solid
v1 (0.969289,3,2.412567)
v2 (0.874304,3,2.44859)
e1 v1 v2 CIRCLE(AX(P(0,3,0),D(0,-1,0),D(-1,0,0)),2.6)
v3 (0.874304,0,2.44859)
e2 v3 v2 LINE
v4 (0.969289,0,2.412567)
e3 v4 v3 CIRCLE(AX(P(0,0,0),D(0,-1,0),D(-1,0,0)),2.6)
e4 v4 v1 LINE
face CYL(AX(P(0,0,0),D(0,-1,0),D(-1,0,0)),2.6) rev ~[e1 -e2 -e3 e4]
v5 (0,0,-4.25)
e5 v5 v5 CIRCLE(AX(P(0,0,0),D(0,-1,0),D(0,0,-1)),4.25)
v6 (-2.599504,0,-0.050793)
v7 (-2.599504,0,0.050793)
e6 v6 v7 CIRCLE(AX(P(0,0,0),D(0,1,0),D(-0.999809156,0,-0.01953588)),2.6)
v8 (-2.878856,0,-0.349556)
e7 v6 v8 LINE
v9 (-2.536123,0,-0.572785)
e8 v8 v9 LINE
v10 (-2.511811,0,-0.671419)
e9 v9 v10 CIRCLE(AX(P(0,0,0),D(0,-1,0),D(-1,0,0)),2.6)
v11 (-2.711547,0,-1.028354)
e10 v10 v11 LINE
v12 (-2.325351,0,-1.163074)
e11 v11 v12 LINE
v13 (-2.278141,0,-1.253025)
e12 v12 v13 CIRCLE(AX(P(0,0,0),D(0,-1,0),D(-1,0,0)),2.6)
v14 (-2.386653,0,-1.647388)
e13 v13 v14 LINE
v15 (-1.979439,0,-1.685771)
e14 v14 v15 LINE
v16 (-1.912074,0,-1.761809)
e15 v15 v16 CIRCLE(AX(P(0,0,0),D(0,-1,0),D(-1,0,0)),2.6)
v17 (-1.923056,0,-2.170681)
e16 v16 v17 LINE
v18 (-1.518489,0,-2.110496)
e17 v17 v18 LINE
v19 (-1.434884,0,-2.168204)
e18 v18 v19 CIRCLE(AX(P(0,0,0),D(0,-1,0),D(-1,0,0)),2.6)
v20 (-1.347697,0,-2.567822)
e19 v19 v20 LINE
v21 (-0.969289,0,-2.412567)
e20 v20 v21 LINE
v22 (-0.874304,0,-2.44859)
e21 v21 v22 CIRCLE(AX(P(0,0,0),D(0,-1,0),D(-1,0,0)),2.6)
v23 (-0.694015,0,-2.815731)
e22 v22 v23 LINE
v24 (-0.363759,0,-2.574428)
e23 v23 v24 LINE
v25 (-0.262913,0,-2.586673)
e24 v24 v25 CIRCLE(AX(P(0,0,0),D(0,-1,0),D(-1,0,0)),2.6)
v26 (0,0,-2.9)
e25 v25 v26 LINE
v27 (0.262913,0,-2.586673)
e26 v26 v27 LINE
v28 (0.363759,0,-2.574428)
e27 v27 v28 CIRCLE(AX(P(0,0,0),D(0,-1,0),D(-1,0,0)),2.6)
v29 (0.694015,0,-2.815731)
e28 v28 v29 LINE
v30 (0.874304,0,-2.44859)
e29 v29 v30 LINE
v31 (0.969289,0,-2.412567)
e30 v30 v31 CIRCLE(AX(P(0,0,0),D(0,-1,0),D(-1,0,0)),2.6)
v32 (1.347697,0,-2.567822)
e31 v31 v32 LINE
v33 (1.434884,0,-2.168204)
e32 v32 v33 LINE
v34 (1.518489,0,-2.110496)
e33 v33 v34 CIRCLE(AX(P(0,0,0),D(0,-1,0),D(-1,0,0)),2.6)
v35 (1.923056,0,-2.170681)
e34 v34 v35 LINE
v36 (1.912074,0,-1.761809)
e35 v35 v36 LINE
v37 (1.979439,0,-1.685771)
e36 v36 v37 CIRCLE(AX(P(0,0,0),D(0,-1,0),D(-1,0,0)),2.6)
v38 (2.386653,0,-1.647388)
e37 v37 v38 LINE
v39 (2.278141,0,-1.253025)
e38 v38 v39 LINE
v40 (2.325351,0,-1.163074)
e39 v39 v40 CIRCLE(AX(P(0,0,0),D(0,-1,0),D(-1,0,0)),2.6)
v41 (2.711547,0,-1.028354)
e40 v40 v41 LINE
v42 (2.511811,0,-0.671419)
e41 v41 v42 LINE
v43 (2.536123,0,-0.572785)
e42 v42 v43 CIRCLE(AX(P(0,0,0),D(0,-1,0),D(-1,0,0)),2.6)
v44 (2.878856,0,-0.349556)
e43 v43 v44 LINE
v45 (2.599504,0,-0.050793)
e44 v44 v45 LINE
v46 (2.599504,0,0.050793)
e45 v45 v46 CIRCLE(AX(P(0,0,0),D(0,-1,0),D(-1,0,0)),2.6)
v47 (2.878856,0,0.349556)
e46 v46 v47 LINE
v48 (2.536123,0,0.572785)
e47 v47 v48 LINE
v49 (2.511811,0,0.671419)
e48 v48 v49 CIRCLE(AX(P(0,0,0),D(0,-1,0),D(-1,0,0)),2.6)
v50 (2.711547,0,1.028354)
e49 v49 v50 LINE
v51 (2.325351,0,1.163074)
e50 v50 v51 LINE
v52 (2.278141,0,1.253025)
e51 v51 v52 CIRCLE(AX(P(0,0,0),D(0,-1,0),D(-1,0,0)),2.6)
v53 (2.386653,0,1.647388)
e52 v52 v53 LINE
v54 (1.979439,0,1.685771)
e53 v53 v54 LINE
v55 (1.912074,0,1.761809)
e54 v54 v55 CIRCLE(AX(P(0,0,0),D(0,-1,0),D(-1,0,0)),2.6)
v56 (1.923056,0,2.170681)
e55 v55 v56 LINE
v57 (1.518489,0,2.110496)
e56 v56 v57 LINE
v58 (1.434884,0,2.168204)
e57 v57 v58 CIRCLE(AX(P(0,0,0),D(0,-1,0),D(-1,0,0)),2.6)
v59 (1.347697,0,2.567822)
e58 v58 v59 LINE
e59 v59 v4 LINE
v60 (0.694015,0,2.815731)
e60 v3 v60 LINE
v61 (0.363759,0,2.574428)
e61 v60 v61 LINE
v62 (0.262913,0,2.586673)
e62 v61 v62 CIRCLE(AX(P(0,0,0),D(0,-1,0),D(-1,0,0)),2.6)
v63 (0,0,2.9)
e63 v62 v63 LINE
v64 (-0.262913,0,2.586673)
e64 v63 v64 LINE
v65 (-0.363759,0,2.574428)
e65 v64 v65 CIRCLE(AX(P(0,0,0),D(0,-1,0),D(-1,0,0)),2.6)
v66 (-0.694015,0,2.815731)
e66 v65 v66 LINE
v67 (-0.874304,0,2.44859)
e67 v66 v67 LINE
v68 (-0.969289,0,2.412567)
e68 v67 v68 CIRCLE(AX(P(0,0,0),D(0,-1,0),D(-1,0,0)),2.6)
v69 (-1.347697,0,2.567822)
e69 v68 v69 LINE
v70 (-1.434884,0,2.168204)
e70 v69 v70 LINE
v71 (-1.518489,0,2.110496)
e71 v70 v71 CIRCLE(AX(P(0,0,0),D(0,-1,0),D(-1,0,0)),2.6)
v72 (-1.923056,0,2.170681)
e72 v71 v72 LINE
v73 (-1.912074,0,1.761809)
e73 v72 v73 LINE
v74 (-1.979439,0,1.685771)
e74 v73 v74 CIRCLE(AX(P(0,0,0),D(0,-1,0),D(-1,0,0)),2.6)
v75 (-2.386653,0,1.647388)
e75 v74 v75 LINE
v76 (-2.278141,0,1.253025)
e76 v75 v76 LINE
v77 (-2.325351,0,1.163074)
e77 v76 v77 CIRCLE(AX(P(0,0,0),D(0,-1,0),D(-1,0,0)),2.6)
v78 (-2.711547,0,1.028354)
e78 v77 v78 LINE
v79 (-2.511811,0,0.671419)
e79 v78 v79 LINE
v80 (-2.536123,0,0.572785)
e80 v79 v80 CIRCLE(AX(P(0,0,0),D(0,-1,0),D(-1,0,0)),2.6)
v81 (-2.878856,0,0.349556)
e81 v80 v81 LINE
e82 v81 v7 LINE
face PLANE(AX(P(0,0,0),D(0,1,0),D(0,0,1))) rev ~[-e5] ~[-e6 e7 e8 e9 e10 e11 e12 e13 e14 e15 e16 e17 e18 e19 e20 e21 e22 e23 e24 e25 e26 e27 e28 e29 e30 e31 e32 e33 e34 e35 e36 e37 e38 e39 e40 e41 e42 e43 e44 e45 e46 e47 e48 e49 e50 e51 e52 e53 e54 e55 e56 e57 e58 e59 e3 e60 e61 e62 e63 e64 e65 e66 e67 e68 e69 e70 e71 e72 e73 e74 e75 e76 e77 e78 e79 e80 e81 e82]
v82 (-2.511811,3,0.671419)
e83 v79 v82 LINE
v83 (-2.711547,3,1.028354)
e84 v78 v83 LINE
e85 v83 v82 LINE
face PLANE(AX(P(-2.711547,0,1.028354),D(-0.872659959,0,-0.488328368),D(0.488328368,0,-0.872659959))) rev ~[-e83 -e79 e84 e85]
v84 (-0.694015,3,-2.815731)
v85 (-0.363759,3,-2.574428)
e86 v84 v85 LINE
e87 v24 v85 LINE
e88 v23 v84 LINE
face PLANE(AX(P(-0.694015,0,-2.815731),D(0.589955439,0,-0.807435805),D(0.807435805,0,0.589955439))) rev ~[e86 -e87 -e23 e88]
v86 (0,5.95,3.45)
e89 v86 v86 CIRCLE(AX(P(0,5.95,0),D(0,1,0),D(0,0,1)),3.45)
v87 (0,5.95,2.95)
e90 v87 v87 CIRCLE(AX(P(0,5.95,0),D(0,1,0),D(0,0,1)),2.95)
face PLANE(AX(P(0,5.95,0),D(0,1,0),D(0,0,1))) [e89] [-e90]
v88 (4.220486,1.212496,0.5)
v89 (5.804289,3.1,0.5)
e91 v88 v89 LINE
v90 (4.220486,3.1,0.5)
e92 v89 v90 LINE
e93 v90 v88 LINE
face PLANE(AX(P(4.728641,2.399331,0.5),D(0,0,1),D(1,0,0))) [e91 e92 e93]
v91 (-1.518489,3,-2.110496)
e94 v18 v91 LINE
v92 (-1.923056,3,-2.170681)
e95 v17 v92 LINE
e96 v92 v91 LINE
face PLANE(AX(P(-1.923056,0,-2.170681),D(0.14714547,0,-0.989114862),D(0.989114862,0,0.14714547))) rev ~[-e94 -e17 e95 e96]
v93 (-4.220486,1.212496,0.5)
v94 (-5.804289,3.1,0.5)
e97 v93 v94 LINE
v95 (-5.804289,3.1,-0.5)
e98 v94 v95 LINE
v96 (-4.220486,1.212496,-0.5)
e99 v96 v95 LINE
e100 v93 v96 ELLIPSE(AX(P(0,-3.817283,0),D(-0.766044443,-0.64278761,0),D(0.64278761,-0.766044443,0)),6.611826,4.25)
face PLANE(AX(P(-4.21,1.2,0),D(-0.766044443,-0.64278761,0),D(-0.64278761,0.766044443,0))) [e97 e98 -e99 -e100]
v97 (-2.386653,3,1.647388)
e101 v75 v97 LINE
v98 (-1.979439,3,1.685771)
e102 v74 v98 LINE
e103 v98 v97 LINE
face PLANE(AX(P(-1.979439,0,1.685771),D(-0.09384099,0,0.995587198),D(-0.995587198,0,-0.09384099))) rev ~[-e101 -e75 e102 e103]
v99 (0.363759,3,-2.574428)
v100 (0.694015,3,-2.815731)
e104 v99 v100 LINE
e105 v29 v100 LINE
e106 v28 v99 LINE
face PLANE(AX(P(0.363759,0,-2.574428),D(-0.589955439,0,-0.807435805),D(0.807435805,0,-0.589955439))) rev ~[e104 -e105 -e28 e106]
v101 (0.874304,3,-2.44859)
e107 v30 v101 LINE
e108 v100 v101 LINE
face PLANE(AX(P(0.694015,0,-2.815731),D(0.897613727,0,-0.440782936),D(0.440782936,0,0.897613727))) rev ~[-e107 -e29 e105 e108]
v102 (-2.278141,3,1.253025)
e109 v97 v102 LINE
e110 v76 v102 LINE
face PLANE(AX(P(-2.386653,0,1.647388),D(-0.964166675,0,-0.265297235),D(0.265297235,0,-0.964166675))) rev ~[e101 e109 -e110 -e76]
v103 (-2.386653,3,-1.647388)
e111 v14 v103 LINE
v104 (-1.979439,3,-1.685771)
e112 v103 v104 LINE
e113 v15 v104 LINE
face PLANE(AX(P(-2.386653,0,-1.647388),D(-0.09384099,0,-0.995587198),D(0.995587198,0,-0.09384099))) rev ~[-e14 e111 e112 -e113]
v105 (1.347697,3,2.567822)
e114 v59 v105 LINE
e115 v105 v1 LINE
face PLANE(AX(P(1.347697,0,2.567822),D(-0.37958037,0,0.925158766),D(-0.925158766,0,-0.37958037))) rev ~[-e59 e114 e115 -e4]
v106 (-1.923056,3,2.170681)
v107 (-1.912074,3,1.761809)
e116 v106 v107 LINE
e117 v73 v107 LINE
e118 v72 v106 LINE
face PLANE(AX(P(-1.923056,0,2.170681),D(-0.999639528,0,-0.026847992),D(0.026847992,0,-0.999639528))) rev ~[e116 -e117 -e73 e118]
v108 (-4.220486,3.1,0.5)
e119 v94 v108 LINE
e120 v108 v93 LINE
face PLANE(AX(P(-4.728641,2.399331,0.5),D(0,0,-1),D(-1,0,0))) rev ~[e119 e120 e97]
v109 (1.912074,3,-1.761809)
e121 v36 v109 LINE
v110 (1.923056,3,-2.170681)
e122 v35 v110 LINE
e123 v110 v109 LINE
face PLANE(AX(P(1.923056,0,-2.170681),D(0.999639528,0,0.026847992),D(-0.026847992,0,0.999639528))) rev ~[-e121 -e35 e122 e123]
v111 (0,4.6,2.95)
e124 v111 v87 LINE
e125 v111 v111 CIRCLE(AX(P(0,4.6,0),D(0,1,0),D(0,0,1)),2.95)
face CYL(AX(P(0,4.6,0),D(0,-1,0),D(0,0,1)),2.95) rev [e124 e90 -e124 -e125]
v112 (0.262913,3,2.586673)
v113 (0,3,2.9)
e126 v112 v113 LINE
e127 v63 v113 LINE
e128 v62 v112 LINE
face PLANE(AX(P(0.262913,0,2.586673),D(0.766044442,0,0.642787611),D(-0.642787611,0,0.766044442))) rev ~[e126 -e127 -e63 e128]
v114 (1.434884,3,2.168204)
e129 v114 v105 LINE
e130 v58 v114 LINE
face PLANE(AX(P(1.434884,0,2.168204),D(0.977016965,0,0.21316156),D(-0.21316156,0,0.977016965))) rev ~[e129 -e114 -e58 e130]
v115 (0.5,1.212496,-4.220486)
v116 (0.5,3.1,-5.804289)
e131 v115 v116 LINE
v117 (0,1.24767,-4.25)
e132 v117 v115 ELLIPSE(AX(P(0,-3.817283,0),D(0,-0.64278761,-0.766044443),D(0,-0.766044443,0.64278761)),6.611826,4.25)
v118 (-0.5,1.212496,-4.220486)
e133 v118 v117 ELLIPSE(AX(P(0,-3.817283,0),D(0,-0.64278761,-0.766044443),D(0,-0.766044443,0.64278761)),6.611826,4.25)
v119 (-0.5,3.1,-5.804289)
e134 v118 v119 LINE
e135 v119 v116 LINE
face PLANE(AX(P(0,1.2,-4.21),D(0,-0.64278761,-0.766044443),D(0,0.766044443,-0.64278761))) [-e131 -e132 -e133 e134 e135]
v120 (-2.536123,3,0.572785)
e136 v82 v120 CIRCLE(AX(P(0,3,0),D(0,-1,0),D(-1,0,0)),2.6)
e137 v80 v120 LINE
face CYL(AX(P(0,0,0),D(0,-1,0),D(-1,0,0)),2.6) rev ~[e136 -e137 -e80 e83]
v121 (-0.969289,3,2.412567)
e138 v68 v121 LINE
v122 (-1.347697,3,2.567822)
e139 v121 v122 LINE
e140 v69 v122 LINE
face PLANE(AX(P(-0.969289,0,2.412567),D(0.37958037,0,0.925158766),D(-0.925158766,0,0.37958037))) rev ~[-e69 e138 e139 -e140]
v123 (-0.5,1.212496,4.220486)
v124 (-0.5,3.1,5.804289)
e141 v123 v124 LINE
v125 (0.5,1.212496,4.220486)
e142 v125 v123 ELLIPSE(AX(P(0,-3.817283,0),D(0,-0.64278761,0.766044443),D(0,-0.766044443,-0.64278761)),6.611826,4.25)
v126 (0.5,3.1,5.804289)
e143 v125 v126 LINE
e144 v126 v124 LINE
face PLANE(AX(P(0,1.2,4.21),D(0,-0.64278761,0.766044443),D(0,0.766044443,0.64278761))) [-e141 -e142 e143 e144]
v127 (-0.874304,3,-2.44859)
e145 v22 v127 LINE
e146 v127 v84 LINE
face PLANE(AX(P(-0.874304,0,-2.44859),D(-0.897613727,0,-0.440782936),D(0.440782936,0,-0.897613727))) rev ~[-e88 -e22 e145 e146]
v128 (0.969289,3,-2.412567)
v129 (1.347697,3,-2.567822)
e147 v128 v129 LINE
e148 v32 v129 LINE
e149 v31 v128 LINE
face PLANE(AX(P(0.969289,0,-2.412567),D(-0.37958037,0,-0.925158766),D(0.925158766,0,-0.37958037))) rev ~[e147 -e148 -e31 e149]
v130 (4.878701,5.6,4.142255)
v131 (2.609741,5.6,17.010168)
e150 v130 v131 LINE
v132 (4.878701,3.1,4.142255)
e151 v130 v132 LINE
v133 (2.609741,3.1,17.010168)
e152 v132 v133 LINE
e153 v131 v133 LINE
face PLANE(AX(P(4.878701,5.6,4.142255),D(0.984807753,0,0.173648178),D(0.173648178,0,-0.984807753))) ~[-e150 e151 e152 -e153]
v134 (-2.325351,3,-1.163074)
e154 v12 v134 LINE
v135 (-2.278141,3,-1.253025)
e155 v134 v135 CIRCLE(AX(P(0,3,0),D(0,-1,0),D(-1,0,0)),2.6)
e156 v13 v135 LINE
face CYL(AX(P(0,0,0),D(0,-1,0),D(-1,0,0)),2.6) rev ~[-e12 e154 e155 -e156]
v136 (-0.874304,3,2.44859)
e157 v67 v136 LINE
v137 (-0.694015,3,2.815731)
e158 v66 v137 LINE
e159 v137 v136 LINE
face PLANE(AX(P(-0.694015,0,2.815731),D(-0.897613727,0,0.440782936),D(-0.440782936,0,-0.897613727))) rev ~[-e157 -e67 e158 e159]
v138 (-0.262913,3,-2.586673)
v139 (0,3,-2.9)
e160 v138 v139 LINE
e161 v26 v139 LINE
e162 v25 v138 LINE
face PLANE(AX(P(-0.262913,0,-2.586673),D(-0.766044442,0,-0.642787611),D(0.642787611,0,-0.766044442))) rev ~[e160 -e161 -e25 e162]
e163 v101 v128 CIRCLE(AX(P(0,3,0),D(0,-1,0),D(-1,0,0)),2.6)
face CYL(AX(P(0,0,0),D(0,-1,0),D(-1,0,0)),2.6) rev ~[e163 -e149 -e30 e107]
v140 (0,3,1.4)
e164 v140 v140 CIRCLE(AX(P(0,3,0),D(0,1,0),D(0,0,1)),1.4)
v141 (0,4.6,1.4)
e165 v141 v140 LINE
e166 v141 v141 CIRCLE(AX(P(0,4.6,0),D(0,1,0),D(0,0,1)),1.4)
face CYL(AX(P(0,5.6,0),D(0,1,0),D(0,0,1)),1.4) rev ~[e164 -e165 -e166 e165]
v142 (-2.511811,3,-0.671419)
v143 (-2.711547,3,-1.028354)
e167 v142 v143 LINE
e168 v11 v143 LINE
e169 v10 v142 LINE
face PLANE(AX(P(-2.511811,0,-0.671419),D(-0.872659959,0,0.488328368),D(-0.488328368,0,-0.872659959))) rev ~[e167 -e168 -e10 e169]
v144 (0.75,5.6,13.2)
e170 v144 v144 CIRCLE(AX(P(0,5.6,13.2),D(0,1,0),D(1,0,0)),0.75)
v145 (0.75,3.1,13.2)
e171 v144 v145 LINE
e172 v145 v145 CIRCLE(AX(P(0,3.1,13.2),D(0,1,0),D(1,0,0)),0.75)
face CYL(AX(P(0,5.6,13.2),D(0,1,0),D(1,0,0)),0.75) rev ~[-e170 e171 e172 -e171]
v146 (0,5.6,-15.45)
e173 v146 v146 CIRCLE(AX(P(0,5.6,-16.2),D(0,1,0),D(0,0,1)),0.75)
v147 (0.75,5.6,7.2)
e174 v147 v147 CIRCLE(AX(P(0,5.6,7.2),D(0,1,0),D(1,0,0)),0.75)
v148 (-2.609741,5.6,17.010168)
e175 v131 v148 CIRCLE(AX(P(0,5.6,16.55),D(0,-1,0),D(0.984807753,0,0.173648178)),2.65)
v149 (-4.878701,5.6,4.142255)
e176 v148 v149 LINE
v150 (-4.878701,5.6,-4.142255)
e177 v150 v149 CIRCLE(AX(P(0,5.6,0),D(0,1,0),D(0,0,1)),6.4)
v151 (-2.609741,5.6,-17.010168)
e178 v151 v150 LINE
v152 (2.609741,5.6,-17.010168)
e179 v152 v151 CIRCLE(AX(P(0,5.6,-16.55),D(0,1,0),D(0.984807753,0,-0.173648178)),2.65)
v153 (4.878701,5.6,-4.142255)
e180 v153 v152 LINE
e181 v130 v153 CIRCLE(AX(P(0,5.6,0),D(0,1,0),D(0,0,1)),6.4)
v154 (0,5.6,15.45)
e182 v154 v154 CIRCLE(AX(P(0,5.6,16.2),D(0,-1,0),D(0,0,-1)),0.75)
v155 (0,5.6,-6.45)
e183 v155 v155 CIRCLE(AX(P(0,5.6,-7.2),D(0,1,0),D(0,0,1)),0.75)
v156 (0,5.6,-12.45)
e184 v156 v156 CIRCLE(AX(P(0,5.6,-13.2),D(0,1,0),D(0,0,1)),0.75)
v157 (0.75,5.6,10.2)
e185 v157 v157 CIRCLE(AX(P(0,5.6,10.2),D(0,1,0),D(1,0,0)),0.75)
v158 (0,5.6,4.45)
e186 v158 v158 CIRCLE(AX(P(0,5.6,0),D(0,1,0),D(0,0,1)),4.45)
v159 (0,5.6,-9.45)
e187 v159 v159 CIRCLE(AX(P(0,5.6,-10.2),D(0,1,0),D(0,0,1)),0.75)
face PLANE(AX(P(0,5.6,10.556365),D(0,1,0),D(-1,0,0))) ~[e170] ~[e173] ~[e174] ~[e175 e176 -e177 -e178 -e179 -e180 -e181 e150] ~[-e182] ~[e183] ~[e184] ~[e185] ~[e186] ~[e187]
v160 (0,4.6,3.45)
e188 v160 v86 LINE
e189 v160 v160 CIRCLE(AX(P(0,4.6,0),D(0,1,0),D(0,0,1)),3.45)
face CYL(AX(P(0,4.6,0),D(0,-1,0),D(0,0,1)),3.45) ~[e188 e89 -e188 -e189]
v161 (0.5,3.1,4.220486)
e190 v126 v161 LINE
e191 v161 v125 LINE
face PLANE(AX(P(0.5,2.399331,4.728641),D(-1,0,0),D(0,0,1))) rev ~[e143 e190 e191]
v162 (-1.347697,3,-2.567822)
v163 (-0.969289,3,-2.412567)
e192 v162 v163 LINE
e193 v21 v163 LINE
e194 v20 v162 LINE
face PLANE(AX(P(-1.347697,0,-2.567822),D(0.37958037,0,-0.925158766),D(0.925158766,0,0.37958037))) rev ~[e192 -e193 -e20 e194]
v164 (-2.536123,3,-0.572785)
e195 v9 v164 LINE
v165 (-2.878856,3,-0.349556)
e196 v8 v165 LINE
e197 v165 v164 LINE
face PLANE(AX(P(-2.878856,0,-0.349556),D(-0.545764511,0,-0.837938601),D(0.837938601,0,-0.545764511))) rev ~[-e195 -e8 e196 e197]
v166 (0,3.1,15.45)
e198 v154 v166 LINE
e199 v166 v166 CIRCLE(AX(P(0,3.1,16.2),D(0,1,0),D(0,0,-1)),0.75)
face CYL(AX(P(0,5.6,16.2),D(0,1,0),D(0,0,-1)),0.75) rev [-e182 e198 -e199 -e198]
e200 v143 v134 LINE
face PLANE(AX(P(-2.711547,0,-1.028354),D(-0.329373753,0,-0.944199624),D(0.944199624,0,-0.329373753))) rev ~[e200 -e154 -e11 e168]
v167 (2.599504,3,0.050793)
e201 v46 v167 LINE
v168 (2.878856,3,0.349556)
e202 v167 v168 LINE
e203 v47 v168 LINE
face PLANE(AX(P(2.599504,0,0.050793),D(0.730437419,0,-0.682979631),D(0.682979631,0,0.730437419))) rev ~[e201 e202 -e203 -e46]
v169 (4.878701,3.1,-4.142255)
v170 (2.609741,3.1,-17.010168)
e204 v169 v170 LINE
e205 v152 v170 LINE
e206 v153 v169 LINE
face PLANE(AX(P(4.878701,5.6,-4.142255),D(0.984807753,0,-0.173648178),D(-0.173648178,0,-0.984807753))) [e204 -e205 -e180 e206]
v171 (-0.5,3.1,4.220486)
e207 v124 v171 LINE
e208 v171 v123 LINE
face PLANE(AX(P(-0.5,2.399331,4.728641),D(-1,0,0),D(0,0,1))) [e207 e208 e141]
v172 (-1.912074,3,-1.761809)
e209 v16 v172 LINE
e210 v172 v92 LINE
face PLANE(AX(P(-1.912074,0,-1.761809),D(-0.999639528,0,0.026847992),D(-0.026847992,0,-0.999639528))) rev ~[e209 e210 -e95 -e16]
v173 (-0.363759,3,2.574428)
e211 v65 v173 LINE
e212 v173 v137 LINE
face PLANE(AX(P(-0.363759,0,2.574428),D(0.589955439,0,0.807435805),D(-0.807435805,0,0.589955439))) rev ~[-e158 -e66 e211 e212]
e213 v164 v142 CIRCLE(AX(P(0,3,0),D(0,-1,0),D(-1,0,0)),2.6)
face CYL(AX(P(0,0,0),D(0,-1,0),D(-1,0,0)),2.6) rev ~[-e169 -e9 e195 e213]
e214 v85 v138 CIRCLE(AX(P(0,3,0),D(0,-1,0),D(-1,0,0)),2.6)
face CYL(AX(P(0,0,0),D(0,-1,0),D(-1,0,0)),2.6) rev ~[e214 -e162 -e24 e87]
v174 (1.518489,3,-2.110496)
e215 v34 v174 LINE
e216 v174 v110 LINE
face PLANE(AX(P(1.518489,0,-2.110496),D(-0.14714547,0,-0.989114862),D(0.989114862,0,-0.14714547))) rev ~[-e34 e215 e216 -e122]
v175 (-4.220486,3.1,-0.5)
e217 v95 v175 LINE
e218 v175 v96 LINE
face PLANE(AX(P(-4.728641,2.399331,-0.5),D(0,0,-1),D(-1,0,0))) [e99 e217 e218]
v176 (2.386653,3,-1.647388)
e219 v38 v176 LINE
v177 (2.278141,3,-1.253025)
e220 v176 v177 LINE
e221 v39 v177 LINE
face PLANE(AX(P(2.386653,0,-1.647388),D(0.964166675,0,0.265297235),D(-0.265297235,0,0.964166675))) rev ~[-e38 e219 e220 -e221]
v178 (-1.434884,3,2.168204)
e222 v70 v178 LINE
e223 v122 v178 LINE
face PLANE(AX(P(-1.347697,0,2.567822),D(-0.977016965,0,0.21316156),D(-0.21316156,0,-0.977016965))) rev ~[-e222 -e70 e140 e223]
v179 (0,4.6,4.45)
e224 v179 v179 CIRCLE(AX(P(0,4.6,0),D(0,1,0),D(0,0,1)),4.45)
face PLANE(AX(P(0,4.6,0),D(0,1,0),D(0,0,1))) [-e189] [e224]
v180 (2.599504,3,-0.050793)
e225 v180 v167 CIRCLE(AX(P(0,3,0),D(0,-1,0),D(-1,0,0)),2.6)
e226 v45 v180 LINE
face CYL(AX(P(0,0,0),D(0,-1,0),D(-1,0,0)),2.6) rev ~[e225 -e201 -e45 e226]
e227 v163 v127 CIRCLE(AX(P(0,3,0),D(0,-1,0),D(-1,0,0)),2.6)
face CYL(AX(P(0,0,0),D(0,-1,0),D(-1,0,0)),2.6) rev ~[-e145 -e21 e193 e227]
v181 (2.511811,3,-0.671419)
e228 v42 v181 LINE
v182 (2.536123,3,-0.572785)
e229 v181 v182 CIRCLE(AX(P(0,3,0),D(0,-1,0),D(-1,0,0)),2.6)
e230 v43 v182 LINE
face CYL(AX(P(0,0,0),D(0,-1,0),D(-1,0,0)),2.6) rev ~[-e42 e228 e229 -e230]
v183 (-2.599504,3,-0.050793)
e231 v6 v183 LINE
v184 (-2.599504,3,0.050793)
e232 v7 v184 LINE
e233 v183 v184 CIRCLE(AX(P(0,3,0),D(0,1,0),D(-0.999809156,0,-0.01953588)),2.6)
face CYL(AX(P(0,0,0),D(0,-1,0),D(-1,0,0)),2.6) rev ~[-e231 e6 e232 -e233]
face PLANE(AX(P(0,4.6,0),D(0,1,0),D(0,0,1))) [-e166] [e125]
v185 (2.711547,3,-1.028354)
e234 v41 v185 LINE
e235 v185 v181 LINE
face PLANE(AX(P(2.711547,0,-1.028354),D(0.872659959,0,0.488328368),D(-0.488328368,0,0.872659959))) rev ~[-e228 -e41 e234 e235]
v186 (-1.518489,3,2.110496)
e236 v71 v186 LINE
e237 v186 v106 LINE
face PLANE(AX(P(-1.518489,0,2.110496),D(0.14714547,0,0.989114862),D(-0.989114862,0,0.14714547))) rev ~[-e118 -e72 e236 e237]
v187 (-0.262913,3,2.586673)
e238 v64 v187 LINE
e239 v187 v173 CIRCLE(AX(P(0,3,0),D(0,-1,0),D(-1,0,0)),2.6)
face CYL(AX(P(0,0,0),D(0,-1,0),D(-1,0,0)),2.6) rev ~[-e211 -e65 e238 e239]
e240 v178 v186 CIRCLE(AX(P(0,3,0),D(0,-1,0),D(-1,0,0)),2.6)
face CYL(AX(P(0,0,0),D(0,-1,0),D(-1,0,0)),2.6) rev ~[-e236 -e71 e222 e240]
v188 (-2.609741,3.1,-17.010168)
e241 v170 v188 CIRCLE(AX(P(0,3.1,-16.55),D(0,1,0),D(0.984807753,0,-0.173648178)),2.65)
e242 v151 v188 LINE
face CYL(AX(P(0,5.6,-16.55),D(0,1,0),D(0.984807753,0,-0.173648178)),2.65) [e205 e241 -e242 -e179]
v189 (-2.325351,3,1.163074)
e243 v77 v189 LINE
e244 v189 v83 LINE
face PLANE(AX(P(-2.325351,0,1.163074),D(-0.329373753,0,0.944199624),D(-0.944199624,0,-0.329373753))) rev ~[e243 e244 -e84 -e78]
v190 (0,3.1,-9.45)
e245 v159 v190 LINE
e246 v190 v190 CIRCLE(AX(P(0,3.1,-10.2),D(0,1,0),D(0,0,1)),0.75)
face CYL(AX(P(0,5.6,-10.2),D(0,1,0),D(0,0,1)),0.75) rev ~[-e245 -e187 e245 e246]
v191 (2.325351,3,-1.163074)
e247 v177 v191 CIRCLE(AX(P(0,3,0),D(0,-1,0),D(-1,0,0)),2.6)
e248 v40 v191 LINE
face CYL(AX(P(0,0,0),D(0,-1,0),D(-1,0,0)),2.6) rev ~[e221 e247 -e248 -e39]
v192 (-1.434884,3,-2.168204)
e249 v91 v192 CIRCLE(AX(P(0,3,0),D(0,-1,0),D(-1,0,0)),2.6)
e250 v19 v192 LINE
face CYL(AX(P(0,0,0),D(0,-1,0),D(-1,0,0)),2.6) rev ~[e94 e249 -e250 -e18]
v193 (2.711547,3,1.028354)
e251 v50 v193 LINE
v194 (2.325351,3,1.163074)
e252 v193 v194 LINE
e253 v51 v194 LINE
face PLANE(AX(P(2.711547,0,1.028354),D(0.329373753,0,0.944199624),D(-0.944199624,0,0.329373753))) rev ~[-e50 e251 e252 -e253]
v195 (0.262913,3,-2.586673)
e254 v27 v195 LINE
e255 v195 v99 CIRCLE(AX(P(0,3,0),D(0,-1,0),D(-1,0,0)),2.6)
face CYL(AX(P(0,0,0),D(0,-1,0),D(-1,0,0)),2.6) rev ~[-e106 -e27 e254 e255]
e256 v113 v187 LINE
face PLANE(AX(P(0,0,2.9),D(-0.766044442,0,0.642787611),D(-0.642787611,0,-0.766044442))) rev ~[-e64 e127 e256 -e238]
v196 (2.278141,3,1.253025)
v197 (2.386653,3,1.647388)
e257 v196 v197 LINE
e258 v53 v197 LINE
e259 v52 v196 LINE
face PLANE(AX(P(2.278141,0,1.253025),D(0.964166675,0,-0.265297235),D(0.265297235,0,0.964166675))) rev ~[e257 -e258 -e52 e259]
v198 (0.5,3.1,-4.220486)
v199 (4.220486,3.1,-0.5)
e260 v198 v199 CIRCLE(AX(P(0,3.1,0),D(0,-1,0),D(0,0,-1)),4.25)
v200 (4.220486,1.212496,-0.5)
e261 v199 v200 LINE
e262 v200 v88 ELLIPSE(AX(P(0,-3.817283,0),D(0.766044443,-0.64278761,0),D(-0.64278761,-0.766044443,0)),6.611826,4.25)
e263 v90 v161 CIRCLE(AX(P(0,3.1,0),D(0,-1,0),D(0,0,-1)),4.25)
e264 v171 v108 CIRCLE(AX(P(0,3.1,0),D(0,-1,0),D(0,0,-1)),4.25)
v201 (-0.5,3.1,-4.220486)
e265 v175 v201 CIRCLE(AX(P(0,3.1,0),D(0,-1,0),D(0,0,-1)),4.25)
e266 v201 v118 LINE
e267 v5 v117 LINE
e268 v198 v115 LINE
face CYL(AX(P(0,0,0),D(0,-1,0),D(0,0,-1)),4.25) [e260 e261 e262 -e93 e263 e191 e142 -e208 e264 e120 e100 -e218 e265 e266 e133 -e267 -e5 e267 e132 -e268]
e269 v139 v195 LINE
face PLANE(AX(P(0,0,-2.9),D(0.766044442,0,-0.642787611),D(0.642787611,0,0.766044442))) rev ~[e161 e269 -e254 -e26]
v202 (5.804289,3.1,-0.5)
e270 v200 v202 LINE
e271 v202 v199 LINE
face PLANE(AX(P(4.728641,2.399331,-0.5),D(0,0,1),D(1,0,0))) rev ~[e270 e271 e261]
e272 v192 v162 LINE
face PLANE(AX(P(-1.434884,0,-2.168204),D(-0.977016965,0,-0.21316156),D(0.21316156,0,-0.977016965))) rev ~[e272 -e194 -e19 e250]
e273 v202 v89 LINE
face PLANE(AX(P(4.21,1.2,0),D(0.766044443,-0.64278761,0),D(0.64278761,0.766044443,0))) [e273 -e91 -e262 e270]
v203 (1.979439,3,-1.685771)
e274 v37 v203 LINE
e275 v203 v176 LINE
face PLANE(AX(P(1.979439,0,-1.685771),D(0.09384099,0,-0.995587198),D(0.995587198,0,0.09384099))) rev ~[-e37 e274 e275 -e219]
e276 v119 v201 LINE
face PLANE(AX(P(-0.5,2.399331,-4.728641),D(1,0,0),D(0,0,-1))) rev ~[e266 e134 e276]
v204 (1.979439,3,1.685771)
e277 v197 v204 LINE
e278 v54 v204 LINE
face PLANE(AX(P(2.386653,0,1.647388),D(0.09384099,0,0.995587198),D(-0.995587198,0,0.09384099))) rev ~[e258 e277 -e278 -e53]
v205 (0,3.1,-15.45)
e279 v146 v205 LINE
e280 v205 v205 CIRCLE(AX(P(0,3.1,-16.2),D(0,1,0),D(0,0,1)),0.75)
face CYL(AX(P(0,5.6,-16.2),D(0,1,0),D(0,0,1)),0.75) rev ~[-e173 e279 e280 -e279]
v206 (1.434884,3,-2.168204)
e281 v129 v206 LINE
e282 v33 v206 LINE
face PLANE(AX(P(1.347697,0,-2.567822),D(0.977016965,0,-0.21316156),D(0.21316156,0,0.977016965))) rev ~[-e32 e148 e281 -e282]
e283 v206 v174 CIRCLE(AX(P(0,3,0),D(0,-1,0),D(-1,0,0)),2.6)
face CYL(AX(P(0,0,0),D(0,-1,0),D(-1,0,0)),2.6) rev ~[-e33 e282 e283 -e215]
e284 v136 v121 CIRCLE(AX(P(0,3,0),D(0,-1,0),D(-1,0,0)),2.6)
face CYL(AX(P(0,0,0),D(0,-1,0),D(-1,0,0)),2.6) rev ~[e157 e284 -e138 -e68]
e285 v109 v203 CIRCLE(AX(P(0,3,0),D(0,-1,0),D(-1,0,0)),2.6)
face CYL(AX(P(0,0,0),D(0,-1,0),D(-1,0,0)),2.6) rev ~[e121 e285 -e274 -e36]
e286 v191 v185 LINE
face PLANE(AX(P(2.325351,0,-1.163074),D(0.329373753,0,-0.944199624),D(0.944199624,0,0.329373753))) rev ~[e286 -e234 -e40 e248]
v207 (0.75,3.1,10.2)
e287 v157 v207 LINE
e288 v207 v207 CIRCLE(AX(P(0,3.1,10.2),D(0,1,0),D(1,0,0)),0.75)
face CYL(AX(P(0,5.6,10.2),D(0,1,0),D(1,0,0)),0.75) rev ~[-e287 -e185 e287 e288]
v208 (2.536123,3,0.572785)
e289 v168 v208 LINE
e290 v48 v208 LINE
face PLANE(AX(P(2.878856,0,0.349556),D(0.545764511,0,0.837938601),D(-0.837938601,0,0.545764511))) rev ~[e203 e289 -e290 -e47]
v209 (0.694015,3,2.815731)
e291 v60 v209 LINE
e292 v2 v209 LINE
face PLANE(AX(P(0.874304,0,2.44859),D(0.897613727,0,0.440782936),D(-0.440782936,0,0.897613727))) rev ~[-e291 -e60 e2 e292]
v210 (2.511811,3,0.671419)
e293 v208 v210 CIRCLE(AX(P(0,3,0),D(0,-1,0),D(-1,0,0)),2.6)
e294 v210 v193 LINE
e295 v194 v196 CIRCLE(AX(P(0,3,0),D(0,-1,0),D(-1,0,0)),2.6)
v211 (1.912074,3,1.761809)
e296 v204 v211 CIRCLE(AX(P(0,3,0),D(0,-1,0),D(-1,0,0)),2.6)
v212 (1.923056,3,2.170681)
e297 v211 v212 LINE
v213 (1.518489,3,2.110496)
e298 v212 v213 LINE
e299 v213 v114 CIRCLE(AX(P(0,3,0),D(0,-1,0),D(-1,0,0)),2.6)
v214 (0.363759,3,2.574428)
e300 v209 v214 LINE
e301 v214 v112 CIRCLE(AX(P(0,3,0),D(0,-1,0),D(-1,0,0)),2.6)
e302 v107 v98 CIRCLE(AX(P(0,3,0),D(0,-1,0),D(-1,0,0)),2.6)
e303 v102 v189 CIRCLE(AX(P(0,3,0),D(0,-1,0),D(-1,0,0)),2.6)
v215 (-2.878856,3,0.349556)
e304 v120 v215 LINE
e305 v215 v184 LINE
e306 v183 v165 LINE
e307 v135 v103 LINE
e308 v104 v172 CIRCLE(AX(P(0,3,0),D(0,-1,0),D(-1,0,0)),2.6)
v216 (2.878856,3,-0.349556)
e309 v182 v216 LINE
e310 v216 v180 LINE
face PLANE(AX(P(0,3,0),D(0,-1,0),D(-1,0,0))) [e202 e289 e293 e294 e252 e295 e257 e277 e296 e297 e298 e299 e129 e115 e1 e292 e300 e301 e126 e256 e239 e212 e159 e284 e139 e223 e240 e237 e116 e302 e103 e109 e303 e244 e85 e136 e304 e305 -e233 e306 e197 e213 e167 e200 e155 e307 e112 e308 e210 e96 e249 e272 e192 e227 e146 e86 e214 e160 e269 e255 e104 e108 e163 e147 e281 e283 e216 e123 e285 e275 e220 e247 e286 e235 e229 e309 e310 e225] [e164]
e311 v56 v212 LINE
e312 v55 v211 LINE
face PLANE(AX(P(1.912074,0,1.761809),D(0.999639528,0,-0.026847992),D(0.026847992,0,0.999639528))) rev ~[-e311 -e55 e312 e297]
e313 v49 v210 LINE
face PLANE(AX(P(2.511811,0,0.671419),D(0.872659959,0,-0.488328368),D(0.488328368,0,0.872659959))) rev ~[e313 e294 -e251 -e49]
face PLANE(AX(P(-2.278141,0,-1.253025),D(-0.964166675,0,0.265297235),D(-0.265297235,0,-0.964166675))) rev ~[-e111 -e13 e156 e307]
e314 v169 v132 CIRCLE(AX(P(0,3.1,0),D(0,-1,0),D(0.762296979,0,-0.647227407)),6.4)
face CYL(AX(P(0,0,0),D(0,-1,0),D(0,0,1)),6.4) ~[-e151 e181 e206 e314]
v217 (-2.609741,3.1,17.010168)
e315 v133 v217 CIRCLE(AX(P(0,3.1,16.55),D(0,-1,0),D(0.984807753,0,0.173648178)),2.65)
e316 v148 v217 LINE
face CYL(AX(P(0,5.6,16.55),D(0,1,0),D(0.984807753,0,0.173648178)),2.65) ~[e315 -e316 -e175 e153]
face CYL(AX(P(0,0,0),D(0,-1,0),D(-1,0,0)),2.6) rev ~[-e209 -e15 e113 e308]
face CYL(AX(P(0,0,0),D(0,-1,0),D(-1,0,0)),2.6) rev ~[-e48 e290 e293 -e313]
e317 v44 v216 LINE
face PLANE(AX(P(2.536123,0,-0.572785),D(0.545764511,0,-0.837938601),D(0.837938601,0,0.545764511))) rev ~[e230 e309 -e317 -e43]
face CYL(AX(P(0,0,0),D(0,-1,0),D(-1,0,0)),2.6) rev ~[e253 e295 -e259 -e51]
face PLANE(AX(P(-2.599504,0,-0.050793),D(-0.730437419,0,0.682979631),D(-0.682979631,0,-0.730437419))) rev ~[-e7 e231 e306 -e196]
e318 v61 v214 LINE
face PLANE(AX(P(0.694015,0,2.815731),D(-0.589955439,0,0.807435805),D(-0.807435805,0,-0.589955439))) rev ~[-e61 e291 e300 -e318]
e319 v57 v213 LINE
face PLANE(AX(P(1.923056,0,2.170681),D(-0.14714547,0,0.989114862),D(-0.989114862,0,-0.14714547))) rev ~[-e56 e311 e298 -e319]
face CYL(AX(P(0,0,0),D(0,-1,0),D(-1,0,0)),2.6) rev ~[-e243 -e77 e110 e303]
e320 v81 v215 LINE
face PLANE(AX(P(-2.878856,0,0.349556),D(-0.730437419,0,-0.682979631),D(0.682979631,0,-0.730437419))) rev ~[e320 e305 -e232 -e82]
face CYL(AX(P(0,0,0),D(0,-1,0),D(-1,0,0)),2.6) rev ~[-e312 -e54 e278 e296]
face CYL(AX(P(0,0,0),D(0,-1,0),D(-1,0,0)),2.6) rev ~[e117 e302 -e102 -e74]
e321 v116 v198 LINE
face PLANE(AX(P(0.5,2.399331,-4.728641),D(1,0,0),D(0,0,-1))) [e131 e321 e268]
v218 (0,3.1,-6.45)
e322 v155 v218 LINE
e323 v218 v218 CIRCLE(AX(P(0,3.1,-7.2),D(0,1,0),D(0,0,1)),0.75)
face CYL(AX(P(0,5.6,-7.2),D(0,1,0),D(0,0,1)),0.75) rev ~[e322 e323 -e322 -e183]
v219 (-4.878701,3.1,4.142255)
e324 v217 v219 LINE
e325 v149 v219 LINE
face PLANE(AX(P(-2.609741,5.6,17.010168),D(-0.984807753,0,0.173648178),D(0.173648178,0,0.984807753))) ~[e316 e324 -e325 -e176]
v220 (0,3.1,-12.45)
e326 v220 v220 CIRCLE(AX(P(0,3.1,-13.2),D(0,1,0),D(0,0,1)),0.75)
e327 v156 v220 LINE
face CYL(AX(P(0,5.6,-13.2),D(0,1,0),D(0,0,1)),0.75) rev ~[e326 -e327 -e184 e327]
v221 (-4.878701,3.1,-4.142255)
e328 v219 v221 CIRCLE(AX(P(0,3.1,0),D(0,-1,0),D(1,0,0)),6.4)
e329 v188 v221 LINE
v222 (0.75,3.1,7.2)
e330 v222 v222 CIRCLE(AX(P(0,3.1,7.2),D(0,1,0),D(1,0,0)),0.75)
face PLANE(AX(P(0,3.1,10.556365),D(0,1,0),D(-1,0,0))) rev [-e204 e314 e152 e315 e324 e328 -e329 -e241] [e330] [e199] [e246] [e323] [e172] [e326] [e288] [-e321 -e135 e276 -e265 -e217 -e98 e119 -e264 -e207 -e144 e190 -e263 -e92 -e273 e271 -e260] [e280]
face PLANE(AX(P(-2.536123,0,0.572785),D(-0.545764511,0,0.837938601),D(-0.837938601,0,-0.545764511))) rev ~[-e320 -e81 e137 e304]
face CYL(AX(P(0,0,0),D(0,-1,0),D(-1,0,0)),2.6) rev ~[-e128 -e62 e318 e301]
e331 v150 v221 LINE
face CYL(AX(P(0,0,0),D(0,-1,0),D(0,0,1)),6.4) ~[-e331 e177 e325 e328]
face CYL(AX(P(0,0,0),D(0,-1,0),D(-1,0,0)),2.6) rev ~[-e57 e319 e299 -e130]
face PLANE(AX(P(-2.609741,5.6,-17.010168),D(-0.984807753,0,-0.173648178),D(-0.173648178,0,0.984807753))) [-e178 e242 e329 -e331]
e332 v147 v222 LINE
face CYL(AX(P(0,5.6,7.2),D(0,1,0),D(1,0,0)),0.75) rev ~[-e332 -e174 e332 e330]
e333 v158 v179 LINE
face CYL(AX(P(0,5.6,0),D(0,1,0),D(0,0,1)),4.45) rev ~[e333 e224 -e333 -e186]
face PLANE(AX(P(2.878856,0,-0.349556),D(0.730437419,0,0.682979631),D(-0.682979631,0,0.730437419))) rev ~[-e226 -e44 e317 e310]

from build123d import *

# Parameters (mm, degrees)
BASES_R                     = 6.4
BASE_DEPTH                  = 5.6
TOPBORES_R                  = 1.4
TOP_BORE_DEPTH              = 11.643307757
HORN_HALF_DEPTH             = 2.5
HORNATTACHS_R               = 0.75
HORN_ATTACH_DEPTH           = 21.999047597
HA_LP_COUNT                 = 4
HA_LP_PITCH                 = 3
HORN_BODIES_COPY_1_SKETCH_R = 0.75
HORN_BODIES_COPY_1_DEPTH    = 21.999047597
HORN_BODIES_COPY_2_SKETCH_R = 0.75
HORN_BODIES_COPY_2_DEPTH    = 21.999047597
HORN_BODIES_COPY_3_SKETCH_R = 0.75
HORN_BODIES_COPY_3_DEPTH    = 21.999047597
TOOTH_DEPTH                 = 3
TOOTH_CP_COUNT              = 26
BOTTOMBORES_R               = 2.6
BOTTOM_BORE_DEPTH           = 3
HOLDINGSHAFTS_R             = 6.4
HOLDINGSHAFTS_R_2           = 4.25
HOLDING_SHAFT_DEPTH         = 3.1
RIB_DEPTH                   = 0.5
RIB_CP_COUNT                = 4
TOPCUTS_R                   = 4.45
TOP_CUT_DEPTH               = 1
TOPPOCKETCYLINDERS_R        = 3.45
TOPPOCKETCYLINDERS_R_2      = 2.95
TOP_POCKET_CYLINDER_DEPTH   = 1.35


with BuildPart() as part:
    # BaseS → BASE (new body)
    with BuildSketch(Plane(origin=(0, 0, 0), x_dir=(1, 0, 0), z_dir=(0, 1, 0))):
        with Locations(Location((0, 0, 0), (0, 0, 270))):
            Circle(BASES_R)
    extrude(amount=BASE_DEPTH)

    # TopBoreS → TOP BORE (cut, through all)
    with BuildSketch(Plane(origin=(0, 5.6, 0), x_dir=(1, 0, 0), z_dir=(0, 1, 0))):
        with Locations(Location((0, 0, 0), (0, 0, 270))):
            Circle(TOPBORES_R)
    extrude(amount=-TOP_BORE_DEPTH, mode=Mode.SUBTRACT)

    # HornHalfS → HORN HALF (add)
    with BuildSketch(Plane(origin=(0, 5.6, 0), x_dir=(1, 0, 0), z_dir=(0, 1, 0))):
        with BuildLine():
            Line((-2.609740545, 17.010167671), (-4.878700663, 4.142255405))
            ThreePointArc((-4.878700663, 4.142255405), (0, 6.4), (4.878700663, 4.142255405))
            Line((4.878700663, 4.142255405), (2.609740545, 17.010167671))
            ThreePointArc((2.609740545, 17.010167671), (0, 19.2), (-2.609740545, 17.010167671))
        make_face()
    horn_half = extrude(amount=-HORN_HALF_DEPTH)

    # HornAttachS → HORN ATTACH (cut, through all)
    with BuildSketch(Plane(origin=(0, 5.6, 0), x_dir=(1, 0, 0), z_dir=(0, 1, 0))):
        with Locations(Location((0, 16.2, 0), (0, 0, 270))):
            Circle(HORNATTACHS_R)
    horn_attach = extrude(amount=-HORN_ATTACH_DEPTH, mode=Mode.SUBTRACT)

    # HA LP: HORN ATTACH ×4
    with Locations(*[(0, 0, i * HA_LP_PITCH) for i in range(1, HA_LP_COUNT)]):
        add(horn_attach, mode=Mode.SUBTRACT)

    # HORN BODIES: HORN HALF, HORN ATTACH across plane
    add(horn_half.mirror(Plane.XY))
    add(horn_attach.mirror(Plane.XY), mode=Mode.SUBTRACT)

    # HORN BODIES copy 1 sketch → HORN BODIES copy 1 (cut, through all)
    with BuildSketch(Plane(origin=(0, 5.6, -3), x_dir=(1, 0, 0), z_dir=(0, 1, 0))):
        with Locations((0, -16.2)):
            Circle(HORN_BODIES_COPY_1_SKETCH_R)
    extrude(amount=-HORN_BODIES_COPY_1_DEPTH, mode=Mode.SUBTRACT)

    # HORN BODIES copy 2 sketch → HORN BODIES copy 2 (cut, through all)
    with BuildSketch(Plane(origin=(0, 5.6, -6), x_dir=(1, 0, 0), z_dir=(0, 1, 0))):
        with Locations((0, -16.2)):
            Circle(HORN_BODIES_COPY_2_SKETCH_R)
    extrude(amount=-HORN_BODIES_COPY_2_DEPTH, mode=Mode.SUBTRACT)

    # HORN BODIES copy 3 sketch → HORN BODIES copy 3 (cut, through all)
    with BuildSketch(Plane(origin=(0, 5.6, -9), x_dir=(1, 0, 0), z_dir=(0, 1, 0))):
        with Locations((0, -16.2)):
            Circle(HORN_BODIES_COPY_3_SKETCH_R)
    extrude(amount=-HORN_BODIES_COPY_3_DEPTH, mode=Mode.SUBTRACT)

    # ToothS → TOOTH (cut)
    with BuildSketch(Plane.XZ):
        with BuildLine():
            Line((0, -2.9), (0.262912611, -2.586672952))
            ThreePointArc((0.262912611, -2.586672952), (0, -2.6), (-0.262912611, -2.586672952))
            Line((-0.262912611, -2.586672952), (0, -2.9))
        make_face()
    tooth = extrude(amount=-TOOTH_DEPTH, mode=Mode.SUBTRACT)

    # TOOTH CP: TOOTH ×26 about axis
    tooth_cp_axis = Axis((0, 0, 0), (0, 1, 0))
    for i in range(1, TOOTH_CP_COUNT):
        add(tooth.rotate(tooth_cp_axis, i * 360 / TOOTH_CP_COUNT), mode=Mode.SUBTRACT)

    # BottomBoreS → BOTTOM BORE (cut)
    with BuildSketch(Plane(origin=(0, 0, 0), x_dir=(-1, 0, 0), z_dir=(0, -1, 0))):
        Circle(BOTTOMBORES_R)
    extrude(amount=-BOTTOM_BORE_DEPTH, mode=Mode.SUBTRACT)

    # HoldingShaftS → HOLDING SHAFT (cut)
    with BuildSketch(Plane.XZ):
        Circle(HOLDINGSHAFTS_R)
        with Locations(Location((0, 0, 0), (0, 0, 270))):
            Circle(HOLDINGSHAFTS_R_2, mode=Mode.SUBTRACT)
    extrude(amount=-HOLDING_SHAFT_DEPTH, mode=Mode.SUBTRACT)

    # RibS → RIB (add, symmetric)
    with BuildSketch(Plane.XY):
        Polygon((4.21, 1.2), (5.804289299, 3.1), (4.21, 3.1), (4.16, 3.1), (4.16, 1.2), align=None)
    rib = extrude(amount=RIB_DEPTH, both=True)

    # RIB CP: RIB ×4 about axis
    rib_cp_axis = Axis((0, 0, 0), (0, 1, 0))
    for i in range(1, RIB_CP_COUNT):
        add(rib.rotate(rib_cp_axis, i * 360 / RIB_CP_COUNT))

    # TopCutS → TOP CUT (cut)
    with BuildSketch(Plane(origin=(0, 5.6, 0), x_dir=(1, 0, 0), z_dir=(0, 1, 0))):
        with Locations(Location((0, 0, 0), (0, 0, 270))):
            Circle(TOPCUTS_R)
    extrude(amount=-TOP_CUT_DEPTH, mode=Mode.SUBTRACT)

    # TopPocketCylinderS → TOP POCKET CYLINDER (add)
    with BuildSketch(Plane(origin=(0, 4.6, 0), x_dir=(1, 0, 0), z_dir=(0, 1, 0))):
        with Locations(Location((0, 0, 0), (0, 0, 270))):
            Circle(TOPPOCKETCYLINDERS_R)
        with Locations(Location((0, 0, 0), (0, 0, 270))):
            Circle(TOPPOCKETCYLINDERS_R_2, mode=Mode.SUBTRACT)
    extrude(amount=TOP_POCKET_CYLINDER_DEPTH)


solid = part.part
